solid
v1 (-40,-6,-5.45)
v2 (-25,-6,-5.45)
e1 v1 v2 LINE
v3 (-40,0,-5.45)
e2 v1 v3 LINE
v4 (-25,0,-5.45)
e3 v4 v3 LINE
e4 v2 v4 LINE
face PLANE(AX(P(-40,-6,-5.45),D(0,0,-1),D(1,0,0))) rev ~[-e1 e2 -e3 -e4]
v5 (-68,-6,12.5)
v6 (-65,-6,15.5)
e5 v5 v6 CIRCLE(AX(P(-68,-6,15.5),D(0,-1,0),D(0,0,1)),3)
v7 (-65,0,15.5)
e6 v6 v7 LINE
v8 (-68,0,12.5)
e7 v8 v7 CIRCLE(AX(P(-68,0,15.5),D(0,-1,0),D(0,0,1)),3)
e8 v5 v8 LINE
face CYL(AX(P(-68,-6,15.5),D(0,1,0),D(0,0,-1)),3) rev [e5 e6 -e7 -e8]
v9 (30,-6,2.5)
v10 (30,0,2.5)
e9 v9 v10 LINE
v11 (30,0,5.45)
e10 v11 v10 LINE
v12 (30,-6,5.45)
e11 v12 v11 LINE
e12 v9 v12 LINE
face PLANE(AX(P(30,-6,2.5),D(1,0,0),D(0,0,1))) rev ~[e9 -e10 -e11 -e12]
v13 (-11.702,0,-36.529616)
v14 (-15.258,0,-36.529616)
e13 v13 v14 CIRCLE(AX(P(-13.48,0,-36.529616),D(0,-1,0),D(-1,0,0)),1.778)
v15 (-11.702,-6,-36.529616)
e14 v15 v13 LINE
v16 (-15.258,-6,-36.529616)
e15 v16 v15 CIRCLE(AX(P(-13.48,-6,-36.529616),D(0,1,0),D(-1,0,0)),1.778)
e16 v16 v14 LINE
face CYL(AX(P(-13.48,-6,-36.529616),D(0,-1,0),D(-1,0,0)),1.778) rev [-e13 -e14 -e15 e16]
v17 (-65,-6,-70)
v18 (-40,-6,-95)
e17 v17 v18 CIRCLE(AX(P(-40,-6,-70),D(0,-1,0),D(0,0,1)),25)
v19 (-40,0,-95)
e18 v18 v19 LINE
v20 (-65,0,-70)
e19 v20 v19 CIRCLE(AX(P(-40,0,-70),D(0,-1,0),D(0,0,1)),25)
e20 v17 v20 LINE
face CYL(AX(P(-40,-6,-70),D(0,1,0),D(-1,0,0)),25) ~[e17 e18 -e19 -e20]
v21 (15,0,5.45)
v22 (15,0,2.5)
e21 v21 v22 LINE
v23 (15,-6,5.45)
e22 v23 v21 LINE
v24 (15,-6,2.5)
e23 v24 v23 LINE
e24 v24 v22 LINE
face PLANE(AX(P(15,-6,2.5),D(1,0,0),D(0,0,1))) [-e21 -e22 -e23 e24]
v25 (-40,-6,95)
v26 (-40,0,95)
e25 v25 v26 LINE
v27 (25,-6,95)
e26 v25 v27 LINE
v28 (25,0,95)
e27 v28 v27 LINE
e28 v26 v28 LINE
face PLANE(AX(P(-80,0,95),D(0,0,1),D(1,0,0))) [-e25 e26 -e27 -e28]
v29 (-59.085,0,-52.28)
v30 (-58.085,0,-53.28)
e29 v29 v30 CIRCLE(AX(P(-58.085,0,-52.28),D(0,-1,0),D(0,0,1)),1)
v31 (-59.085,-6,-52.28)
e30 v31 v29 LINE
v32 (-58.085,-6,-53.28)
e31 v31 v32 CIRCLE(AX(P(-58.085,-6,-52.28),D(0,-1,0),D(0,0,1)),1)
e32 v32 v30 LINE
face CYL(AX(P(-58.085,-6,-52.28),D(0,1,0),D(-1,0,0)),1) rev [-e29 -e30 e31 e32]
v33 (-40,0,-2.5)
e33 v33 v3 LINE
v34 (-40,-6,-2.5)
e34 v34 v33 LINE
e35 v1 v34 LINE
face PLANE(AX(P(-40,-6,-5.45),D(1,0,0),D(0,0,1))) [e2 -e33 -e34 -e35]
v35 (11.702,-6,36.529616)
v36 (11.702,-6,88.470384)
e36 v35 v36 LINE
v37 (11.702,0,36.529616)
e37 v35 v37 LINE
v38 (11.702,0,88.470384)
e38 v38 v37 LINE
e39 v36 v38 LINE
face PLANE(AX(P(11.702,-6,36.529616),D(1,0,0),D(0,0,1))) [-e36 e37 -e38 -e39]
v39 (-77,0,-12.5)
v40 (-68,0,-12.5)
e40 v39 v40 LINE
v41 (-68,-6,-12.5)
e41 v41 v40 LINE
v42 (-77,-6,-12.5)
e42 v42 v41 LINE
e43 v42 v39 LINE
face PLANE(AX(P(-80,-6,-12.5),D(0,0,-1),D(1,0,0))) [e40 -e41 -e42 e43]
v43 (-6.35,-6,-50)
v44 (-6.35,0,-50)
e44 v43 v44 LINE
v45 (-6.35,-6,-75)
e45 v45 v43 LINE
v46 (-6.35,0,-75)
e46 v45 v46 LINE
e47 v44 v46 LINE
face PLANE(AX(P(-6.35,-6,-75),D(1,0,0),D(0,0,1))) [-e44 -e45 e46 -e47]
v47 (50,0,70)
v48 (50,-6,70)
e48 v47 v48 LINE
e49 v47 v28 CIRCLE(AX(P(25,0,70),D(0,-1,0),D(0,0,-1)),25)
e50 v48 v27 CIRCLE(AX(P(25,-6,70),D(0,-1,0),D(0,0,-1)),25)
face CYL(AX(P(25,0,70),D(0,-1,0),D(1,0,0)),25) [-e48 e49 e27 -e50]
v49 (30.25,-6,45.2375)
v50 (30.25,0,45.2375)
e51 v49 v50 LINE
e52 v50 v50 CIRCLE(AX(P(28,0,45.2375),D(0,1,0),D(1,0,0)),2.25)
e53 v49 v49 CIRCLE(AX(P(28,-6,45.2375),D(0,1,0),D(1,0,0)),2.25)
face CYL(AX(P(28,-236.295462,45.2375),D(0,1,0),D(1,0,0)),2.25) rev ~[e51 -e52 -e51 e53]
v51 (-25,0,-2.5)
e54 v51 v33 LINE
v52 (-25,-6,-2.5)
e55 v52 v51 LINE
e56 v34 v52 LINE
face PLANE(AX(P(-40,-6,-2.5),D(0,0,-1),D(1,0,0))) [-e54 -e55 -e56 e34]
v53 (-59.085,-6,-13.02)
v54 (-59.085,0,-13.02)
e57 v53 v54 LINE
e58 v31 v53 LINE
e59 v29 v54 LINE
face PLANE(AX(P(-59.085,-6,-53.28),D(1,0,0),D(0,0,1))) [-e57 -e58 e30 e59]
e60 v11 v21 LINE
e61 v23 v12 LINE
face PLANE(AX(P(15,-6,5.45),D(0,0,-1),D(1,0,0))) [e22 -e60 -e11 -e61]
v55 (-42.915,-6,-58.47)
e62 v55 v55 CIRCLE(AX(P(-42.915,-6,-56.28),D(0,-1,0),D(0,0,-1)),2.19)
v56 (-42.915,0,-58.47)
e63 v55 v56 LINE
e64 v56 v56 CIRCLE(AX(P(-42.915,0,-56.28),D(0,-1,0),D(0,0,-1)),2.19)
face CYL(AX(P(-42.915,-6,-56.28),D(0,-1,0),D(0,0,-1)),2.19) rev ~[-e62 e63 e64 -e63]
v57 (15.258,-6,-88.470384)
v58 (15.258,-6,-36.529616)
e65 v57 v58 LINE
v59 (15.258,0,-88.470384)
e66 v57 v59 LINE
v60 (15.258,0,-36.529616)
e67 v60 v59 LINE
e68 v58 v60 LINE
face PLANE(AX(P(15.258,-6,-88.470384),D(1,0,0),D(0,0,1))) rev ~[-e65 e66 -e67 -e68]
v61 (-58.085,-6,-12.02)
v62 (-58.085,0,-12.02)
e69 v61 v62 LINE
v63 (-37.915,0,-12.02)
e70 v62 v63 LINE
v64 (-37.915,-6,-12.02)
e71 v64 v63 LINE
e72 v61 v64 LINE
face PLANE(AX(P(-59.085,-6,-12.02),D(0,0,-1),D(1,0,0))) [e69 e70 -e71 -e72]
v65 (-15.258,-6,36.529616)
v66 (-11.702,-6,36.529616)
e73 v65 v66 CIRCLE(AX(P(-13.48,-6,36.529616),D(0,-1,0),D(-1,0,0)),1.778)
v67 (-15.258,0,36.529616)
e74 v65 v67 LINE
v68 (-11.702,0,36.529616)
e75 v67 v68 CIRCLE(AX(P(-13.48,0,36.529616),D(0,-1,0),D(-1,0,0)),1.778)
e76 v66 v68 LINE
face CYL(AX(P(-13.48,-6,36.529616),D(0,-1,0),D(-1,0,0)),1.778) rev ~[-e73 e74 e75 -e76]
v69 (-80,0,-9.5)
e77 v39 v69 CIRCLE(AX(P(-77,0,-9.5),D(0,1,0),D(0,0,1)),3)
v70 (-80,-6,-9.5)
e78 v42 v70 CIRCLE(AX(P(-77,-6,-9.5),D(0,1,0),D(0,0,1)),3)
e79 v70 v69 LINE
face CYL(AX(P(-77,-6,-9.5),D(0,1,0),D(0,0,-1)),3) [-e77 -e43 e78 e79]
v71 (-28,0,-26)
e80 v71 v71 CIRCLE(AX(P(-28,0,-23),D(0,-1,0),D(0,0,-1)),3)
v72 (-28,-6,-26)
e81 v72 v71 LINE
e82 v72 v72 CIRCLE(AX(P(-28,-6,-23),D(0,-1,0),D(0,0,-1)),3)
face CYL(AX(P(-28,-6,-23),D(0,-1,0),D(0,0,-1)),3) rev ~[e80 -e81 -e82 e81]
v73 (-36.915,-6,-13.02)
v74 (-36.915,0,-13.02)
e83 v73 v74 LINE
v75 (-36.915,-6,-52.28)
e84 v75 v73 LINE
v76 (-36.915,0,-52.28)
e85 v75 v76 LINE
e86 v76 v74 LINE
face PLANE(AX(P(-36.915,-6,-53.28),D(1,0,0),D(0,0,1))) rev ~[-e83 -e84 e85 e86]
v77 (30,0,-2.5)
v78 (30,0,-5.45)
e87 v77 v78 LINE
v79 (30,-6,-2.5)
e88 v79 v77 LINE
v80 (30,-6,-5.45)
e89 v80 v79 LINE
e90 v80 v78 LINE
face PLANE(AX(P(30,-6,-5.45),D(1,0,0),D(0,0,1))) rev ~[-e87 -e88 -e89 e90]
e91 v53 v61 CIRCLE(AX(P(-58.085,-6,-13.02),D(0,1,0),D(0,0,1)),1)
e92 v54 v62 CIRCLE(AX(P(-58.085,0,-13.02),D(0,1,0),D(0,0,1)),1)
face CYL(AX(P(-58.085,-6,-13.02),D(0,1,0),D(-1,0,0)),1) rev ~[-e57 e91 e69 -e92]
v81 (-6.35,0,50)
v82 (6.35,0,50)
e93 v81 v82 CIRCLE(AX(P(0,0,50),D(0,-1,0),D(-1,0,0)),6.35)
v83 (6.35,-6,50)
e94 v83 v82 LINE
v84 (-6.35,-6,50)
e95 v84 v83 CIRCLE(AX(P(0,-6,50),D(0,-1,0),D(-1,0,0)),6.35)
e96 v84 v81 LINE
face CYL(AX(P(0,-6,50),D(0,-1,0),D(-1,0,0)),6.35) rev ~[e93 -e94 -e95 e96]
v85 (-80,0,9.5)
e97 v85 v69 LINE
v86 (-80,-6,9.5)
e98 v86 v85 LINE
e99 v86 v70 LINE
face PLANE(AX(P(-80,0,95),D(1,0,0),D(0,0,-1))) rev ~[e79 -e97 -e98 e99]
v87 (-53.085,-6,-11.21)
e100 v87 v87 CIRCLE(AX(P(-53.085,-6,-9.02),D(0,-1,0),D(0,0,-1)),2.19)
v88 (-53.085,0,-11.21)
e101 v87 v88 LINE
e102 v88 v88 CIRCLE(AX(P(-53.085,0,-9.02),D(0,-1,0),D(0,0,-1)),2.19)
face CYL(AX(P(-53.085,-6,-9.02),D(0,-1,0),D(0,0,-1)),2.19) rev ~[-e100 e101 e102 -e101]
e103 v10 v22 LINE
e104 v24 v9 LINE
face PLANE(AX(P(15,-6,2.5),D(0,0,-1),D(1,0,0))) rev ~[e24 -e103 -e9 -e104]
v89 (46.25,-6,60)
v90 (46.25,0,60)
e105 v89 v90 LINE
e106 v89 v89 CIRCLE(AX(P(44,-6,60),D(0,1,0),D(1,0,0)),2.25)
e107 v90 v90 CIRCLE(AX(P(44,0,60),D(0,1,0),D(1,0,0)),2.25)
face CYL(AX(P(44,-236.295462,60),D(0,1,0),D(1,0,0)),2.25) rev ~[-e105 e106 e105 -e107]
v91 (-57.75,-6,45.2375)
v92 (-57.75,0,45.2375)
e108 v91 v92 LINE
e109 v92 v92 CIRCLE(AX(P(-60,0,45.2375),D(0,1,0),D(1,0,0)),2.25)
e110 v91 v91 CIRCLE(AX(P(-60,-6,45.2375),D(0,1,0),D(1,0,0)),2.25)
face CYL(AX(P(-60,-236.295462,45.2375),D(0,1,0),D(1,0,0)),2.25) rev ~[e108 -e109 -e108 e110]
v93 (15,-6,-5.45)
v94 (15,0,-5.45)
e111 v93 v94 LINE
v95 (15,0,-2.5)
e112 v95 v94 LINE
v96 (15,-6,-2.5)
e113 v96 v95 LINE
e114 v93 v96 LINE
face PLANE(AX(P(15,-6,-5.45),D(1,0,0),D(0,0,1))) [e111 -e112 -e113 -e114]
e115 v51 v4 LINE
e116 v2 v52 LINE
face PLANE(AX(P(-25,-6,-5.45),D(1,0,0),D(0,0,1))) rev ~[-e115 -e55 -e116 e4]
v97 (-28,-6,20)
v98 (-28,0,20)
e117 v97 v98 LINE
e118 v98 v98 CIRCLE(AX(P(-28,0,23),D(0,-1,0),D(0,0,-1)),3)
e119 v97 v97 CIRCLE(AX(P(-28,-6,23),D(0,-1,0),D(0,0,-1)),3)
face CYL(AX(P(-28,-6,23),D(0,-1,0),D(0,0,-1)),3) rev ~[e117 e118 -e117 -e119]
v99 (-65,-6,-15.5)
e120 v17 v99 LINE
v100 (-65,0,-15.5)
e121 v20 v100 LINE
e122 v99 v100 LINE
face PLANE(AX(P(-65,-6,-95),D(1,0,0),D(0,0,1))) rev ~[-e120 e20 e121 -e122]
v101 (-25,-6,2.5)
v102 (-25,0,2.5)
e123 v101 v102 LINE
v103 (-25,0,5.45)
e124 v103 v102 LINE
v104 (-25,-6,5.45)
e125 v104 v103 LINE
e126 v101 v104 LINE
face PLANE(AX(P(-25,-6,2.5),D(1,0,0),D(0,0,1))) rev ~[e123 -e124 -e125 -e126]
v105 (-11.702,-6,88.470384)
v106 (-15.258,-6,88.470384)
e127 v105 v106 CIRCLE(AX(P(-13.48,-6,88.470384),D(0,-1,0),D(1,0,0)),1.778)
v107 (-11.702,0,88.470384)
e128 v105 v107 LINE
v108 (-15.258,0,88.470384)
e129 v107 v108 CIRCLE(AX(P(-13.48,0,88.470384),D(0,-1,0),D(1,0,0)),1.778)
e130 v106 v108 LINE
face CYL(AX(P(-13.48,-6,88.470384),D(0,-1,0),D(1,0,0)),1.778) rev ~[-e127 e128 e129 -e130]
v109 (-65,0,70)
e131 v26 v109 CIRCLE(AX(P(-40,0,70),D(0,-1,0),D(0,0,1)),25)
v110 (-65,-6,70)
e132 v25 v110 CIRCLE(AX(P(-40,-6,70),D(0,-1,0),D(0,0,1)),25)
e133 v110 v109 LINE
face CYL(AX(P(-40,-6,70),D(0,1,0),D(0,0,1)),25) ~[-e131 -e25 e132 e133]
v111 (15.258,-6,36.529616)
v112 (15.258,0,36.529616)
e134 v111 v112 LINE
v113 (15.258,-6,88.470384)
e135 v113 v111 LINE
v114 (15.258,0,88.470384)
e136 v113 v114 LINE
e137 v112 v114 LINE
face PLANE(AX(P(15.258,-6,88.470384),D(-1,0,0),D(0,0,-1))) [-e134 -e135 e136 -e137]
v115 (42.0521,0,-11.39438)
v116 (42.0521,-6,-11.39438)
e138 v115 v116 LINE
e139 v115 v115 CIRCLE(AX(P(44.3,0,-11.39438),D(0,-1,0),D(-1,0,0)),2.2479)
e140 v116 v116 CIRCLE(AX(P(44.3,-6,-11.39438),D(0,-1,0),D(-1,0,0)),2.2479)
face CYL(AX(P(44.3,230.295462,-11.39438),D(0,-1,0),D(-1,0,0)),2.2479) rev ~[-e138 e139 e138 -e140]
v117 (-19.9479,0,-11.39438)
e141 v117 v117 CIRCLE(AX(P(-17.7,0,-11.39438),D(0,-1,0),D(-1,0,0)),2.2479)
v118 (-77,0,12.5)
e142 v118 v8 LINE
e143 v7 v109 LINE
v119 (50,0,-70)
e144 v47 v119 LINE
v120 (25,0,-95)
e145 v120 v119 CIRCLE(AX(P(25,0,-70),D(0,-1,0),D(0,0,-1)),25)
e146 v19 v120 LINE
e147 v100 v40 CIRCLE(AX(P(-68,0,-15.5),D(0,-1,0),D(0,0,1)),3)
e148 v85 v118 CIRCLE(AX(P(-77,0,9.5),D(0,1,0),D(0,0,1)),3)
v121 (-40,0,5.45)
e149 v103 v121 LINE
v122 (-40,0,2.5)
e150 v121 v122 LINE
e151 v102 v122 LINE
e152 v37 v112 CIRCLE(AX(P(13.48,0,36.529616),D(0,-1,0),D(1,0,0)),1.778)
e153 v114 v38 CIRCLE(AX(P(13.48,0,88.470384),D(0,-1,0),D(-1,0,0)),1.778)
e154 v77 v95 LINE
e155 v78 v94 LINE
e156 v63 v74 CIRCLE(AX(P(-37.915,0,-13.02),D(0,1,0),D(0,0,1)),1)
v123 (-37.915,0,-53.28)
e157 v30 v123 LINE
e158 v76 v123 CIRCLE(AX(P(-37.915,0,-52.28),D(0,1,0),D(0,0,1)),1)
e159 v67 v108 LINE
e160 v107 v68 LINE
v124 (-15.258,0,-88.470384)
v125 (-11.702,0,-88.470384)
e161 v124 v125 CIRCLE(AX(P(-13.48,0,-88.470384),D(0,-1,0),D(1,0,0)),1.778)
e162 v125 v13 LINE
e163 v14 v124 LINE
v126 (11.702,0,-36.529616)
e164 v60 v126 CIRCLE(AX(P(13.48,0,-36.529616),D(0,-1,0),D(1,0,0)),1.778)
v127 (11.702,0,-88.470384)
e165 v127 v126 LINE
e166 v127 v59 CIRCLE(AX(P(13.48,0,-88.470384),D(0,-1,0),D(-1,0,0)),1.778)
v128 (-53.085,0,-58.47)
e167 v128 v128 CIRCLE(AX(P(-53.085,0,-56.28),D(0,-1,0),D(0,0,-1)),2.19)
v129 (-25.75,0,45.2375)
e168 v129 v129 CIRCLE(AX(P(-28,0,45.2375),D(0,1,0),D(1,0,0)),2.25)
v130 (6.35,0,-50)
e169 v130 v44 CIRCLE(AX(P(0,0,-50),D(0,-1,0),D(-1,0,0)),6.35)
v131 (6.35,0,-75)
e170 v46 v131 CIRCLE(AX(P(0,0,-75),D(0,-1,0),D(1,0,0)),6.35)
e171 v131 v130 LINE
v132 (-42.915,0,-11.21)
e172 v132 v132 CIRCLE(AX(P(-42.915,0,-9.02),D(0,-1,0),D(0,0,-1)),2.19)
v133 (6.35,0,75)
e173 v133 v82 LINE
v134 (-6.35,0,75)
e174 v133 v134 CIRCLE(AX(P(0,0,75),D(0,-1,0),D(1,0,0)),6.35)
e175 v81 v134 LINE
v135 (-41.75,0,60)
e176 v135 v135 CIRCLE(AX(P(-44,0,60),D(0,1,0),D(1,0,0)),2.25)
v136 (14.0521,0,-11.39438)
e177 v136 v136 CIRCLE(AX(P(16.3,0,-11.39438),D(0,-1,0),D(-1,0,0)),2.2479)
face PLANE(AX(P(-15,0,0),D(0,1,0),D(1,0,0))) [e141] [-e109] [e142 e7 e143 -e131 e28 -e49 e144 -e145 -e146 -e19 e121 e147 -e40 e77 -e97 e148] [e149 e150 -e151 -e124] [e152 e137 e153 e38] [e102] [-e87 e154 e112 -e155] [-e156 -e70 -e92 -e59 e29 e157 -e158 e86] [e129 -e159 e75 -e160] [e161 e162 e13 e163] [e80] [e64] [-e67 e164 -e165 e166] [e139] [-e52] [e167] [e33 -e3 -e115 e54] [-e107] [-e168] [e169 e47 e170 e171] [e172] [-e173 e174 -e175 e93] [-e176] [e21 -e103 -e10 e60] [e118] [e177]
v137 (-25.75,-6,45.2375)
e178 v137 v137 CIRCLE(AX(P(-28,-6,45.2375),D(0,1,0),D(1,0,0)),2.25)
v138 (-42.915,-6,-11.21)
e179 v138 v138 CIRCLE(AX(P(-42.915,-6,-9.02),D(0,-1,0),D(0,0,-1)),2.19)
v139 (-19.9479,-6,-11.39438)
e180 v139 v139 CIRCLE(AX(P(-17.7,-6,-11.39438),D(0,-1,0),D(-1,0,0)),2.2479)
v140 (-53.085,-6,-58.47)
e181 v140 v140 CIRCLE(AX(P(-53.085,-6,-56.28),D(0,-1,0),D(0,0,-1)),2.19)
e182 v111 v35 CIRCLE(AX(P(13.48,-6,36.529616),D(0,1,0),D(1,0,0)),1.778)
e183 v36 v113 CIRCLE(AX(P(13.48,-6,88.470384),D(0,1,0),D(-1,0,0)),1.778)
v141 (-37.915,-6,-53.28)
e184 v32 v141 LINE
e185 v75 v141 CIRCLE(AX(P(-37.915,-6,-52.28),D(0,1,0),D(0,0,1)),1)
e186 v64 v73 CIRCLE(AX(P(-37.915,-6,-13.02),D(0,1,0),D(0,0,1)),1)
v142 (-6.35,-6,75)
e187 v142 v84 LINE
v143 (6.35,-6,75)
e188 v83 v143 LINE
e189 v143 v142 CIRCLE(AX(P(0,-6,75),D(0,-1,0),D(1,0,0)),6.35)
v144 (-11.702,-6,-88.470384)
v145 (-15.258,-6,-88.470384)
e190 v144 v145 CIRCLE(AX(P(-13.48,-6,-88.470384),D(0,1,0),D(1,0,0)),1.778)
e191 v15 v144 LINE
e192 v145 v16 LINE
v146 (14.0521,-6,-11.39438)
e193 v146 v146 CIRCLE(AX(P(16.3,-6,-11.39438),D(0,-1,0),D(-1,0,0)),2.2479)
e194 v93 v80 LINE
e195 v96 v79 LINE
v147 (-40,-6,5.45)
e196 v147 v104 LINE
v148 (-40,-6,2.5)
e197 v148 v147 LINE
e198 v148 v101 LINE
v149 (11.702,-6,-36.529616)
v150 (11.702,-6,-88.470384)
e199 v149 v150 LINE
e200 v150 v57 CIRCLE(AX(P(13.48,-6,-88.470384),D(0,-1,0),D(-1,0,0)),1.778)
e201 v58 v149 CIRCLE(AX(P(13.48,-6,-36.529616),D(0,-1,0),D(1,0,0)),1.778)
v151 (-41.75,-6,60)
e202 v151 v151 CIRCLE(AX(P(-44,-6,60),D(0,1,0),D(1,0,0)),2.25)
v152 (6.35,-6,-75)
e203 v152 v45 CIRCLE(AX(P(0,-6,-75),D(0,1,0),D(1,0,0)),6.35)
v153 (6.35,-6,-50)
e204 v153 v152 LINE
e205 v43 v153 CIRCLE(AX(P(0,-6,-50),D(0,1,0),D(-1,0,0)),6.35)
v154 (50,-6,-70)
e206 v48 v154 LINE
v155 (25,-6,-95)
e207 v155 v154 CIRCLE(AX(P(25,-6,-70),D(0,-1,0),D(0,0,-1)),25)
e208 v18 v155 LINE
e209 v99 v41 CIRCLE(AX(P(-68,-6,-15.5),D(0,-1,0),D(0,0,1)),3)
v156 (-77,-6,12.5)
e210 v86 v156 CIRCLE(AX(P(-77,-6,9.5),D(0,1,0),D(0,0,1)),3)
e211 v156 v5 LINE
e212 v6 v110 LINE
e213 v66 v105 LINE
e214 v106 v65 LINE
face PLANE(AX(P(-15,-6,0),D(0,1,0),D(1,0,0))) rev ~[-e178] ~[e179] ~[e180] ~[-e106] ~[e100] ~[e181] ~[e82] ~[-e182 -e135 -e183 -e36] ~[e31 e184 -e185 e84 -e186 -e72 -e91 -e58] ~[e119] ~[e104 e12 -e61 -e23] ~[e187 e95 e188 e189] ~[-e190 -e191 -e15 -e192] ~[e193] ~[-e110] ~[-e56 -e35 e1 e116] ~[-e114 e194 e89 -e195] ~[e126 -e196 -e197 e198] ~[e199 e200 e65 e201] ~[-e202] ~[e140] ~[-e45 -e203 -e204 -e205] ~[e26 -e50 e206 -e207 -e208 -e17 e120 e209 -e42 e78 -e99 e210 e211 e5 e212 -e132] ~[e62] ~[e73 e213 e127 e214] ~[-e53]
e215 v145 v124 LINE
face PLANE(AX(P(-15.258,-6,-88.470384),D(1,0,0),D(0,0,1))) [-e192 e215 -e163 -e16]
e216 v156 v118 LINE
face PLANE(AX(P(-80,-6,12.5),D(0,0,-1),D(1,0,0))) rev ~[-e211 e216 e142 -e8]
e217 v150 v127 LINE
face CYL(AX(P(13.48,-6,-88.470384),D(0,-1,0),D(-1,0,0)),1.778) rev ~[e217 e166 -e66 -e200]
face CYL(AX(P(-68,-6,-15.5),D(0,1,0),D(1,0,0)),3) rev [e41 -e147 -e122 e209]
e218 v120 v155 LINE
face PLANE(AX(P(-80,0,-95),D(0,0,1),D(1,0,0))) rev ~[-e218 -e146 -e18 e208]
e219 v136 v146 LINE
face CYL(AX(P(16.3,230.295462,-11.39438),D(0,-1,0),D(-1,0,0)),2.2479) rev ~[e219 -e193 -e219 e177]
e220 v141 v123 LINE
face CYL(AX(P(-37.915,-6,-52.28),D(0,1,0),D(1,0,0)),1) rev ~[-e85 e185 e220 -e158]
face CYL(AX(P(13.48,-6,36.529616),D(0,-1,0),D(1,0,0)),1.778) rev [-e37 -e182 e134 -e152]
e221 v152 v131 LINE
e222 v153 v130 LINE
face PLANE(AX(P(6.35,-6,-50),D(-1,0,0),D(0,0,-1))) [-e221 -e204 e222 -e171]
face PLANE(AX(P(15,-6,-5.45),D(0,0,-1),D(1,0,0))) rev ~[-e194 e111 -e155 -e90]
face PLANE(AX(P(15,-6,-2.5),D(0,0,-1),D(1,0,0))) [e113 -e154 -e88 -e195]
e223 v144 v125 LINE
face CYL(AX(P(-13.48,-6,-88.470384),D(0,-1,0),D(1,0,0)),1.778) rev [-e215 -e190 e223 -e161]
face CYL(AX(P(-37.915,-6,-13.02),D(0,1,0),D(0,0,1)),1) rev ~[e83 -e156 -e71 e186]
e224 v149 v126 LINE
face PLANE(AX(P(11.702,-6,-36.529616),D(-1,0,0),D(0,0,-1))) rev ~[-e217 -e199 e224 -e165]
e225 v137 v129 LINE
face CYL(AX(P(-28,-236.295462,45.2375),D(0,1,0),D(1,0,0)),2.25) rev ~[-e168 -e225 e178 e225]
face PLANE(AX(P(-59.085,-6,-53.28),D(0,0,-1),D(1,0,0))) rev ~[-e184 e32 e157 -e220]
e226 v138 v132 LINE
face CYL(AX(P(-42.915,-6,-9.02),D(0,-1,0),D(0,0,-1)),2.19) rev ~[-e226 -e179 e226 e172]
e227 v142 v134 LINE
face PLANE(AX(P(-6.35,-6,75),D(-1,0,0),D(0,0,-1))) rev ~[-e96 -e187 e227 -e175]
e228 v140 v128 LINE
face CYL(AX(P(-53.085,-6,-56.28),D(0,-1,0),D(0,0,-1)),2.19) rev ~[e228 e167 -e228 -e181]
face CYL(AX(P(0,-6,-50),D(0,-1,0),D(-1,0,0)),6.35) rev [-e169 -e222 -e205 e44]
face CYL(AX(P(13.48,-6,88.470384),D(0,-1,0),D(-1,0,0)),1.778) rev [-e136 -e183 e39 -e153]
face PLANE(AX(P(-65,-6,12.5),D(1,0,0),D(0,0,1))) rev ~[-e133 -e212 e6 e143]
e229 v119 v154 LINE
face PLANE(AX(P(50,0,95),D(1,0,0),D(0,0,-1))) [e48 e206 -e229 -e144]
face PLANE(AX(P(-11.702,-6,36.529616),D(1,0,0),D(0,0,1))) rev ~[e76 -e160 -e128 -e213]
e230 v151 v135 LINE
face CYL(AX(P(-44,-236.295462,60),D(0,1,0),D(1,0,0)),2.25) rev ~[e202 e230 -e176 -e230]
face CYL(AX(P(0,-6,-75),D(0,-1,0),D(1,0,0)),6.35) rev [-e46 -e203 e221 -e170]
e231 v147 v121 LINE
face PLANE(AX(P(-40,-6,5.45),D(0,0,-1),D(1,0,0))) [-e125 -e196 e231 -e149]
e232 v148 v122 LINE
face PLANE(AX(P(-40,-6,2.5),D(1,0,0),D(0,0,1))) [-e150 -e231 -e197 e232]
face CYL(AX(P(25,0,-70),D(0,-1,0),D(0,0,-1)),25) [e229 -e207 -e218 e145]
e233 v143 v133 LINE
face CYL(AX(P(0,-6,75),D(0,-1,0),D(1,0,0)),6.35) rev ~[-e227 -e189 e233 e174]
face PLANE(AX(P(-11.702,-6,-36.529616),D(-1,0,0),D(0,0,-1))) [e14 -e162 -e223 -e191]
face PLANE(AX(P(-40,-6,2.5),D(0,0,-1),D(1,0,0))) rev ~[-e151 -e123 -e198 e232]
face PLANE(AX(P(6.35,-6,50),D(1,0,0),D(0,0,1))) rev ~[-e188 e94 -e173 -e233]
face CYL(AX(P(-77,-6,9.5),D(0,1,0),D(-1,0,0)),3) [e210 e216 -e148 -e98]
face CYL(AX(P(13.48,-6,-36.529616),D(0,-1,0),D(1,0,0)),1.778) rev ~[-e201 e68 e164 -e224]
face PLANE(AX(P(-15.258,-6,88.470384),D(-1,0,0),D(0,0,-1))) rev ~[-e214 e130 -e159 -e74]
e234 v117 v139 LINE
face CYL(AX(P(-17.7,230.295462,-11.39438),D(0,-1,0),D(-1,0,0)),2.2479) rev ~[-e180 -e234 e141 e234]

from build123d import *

# Parameters (mm, degrees)
ESQUISSE1_W             = 130
ESQUISSE1_H             = 190
BOSS_EXTRU_1_DEPTH      = 6
ENL_V_MAT_EXTRU_1_DEPTH = 125.342269563
ESQUISSE3_R             = 2.19
ESQUISSE3_W             = 15
ESQUISSE3_H             = 2.95
ENL_V_MAT_EXTRU_2_DEPTH = 125.342269563
ESQUISSE5_R             = 3
ENL_V_MAT_EXTRU_3_DEPTH = 125.342269563
CUT_EXTRUDE1_REACH      = 126.342
SKETCH1_W               = 22.17
SKETCH1_H               = 41.26
FILLET1_R               = 1
M4_CLEARANCE_HOLE1_D    = 4.5
CUT_EXTRUDE2_REACH      = 126.342
SKETCH5_W               = 15
SKETCH5_H               = 82.5
FILLET2_R               = 25
FILLET3_R               = 3
F_8_CLEARANCE_HOLE1_D   = 4.4958


with BuildPart() as part:
    # Esquisse1 → Boss.-Extru.1 (new body)
    with BuildSketch(Plane(origin=(0, 0, 0), x_dir=(1, 0, 0), z_dir=(0, 1, 0))):
        with Locations((-15, 0)):
            Rectangle(ESQUISSE1_W, ESQUISSE1_H)
    extrude(amount=-BOSS_EXTRU_1_DEPTH)

    # Esquisse2 → Enlèv. mat.-Extru.1 (cut, through all)
    with BuildSketch(Plane.XZ.offset(6)):
        with BuildLine():
            Line((-6.35, 75), (-6.35, 50))
            ThreePointArc((-6.35, 50), (0, 43.65), (6.35, 50))
            Line((6.35, 50), (6.35, 75))
            ThreePointArc((6.35, 75), (0, 81.35), (-6.35, 75))
        make_face()
        with BuildLine():
            Line((15.258, 88.470384182), (15.258, 36.529615818))
            ThreePointArc((15.258, 36.529615818), (13.48, 34.751615818), (11.702, 36.529615818))
            Line((11.702, 36.529615818), (11.702, 88.470384182))
            ThreePointArc((11.702, 88.470384182), (13.48, 90.248384182), (15.258, 88.470384182))
        make_face()
        with BuildLine():
            Line((-15.258, 88.470384182), (-15.258, 36.529615818))
            ThreePointArc((-15.258, 36.529615818), (-13.48, 34.751615818), (-11.702, 36.529615818))
            Line((-11.702, 36.529615818), (-11.702, 88.470384182))
            ThreePointArc((-11.702, 88.470384182), (-13.48, 90.248384182), (-15.258, 88.470384182))
        make_face()
        with BuildLine():
            Line((15.258, -88.470384182), (15.258, -36.529615818))
            ThreePointArc((15.258, -36.529615818), (13.48, -34.751615818), (11.702, -36.529615818))
            Line((11.702, -36.529615818), (11.702, -88.470384182))
            ThreePointArc((11.702, -88.470384182), (13.48, -90.248384182), (15.258, -88.470384182))
        make_face()
        with BuildLine():
            Line((-6.35, -75), (-6.35, -50))
            ThreePointArc((-6.35, -50), (0, -43.65), (6.35, -50))
            Line((6.35, -50), (6.35, -75))
            ThreePointArc((6.35, -75), (0, -81.35), (-6.35, -75))
        make_face()
        with BuildLine():
            Line((-15.258, -88.470384182), (-15.258, -36.529615818))
            ThreePointArc((-15.258, -36.529615818), (-13.48, -34.751615818), (-11.702, -36.529615818))
            Line((-11.702, -36.529615818), (-11.702, -88.470384182))
            ThreePointArc((-11.702, -88.470384182), (-13.48, -90.248384182), (-15.258, -88.470384182))
        make_face()
    extrude(amount=-ENL_V_MAT_EXTRU_1_DEPTH, mode=Mode.SUBTRACT)

    # Esquisse3 → Enlèv. mat.-Extru.2 (cut, through all)
    with BuildSketch(Plane.XZ.offset(6)):
        with Locations(Location((-53.085, -9.02, 0), (0, 0, 270))):
            Circle(ESQUISSE3_R)
        with Locations(Location((-42.915, -56.28, 0), (0, 0, 270))):
            Circle(ESQUISSE3_R)
        with Locations(Location((-53.085, -56.28, 0), (0, 0, 270))):
            Circle(ESQUISSE3_R)
        with Locations(Location((-42.915, -9.02, 0), (0, 0, 270))):
            Circle(ESQUISSE3_R)
        with Locations((-32.5, 3.975)):
            Rectangle(ESQUISSE3_W, ESQUISSE3_H)
        with Locations((22.5, 3.975)):
            Rectangle(ESQUISSE3_W, ESQUISSE3_H)
        with Locations((22.5, -3.975)):
            Rectangle(ESQUISSE3_W, ESQUISSE3_H)
        with Locations((-32.5, -3.975)):
            Rectangle(ESQUISSE3_W, ESQUISSE3_H)
    extrude(amount=-ENL_V_MAT_EXTRU_2_DEPTH, mode=Mode.SUBTRACT)

    # Esquisse5 → Enlèv. mat.-Extru.3 (cut, through all)
    with BuildSketch(Plane.XZ.offset(6)):
        with Locations(Location((-28, 23, 0), (0, 0, 270))):
            Circle(ESQUISSE5_R)
        with Locations(Location((-28, -23, 0), (0, 0, 270))):
            Circle(ESQUISSE5_R)
    extrude(amount=-ENL_V_MAT_EXTRU_3_DEPTH, mode=Mode.SUBTRACT)

    # Sketch1 → Cut-Extrude1 (cut, up to next)
    with BuildSketch(Plane.XZ.offset(6), mode=Mode.PRIVATE) as cut_extrude1_sk1:
        with Locations((-48, -32.65)):
            Rectangle(SKETCH1_W, SKETCH1_H)
    cut_extrude1_tool1 = extrude(cut_extrude1_sk1.sketch, amount=-CUT_EXTRUDE1_REACH, mode=Mode.PRIVATE) & part.part
    add(cut_extrude1_tool1.solids().sort_by_distance((-48, -6, -32.65))[0], mode=Mode.SUBTRACT)

    # Fillet1
    fillet1_edges = [part.edges().sort_by_distance(p)[0] for p in [
        (-59.085, -3, -53.28),
        (-59.085, -3, -12.02),
        (-36.915, -3, -12.02),
        (-36.915, -3, -53.28),
    ]]
    fillet(fillet1_edges, radius=FILLET1_R)

    # M4 Clearance Hole1 (through all)
    with Locations(Plane(origin=(0, -6, 0), x_dir=(-1, 0, 0), z_dir=(0, -1, 0))):
        with Locations((-28, -45.2375), (-44, -60), (28, -45.2375), (44, -60), (60, -45.2375)):
            Hole(M4_CLEARANCE_HOLE1_D / 2)

    # Sketch5 → Cut-Extrude2 (cut, up to next)
    with BuildSketch(Plane.XZ.offset(6), mode=Mode.PRIVATE) as cut_extrude2_sk1:
        with Locations((-72.5, 53.75)):
            Rectangle(SKETCH5_W, SKETCH5_H)
    cut_extrude2_tool1 = extrude(cut_extrude2_sk1.sketch, amount=-CUT_EXTRUDE2_REACH, mode=Mode.PRIVATE) & part.part
    # Sketch5 → Cut-Extrude2 (cut, up to next)
    with BuildSketch(Plane.XZ.offset(6), mode=Mode.PRIVATE) as cut_extrude2_sk2:
        with Locations((-72.5, -53.75)):
            Rectangle(SKETCH5_W, SKETCH5_H)
    cut_extrude2_tool2 = extrude(cut_extrude2_sk2.sketch, amount=-CUT_EXTRUDE2_REACH, mode=Mode.PRIVATE) & part.part
    add(cut_extrude2_tool1.solids().sort_by_distance((-72.5, -6, 53.75))[0], mode=Mode.SUBTRACT)
    add(cut_extrude2_tool2.solids().sort_by_distance((-72.5, -6, -53.75))[0], mode=Mode.SUBTRACT)

    # Fillet2
    fillet2_edges = [part.edges().sort_by_distance(p)[0] for p in [
        (-65, -3, 95),
        (-65, -3, -95),
        (50, -3, -95),
        (50, -3, 95),
    ]]
    fillet(fillet2_edges, radius=FILLET2_R)

    # Fillet3
    fillet3_edges = [part.edges().sort_by_distance(p)[0] for p in [
        (-65, -3, 12.5),
        (-80, -3, 12.5),
        (-80, -3, -12.5),
        (-65, -3, -12.5),
    ]]
    fillet(fillet3_edges, radius=FILLET3_R)

    # #8 Clearance Hole1 (through all)
    with Locations(Plane(origin=(0, 0, 0), x_dir=(1, 0, 0), z_dir=(0, 1, 0))):
        with Locations((16.3, 11.394380081), (-17.7, 11.394380081), (44.3, 11.394380081)):
            Hole(F_8_CLEARANCE_HOLE1_D / 2)


solid = part.part
